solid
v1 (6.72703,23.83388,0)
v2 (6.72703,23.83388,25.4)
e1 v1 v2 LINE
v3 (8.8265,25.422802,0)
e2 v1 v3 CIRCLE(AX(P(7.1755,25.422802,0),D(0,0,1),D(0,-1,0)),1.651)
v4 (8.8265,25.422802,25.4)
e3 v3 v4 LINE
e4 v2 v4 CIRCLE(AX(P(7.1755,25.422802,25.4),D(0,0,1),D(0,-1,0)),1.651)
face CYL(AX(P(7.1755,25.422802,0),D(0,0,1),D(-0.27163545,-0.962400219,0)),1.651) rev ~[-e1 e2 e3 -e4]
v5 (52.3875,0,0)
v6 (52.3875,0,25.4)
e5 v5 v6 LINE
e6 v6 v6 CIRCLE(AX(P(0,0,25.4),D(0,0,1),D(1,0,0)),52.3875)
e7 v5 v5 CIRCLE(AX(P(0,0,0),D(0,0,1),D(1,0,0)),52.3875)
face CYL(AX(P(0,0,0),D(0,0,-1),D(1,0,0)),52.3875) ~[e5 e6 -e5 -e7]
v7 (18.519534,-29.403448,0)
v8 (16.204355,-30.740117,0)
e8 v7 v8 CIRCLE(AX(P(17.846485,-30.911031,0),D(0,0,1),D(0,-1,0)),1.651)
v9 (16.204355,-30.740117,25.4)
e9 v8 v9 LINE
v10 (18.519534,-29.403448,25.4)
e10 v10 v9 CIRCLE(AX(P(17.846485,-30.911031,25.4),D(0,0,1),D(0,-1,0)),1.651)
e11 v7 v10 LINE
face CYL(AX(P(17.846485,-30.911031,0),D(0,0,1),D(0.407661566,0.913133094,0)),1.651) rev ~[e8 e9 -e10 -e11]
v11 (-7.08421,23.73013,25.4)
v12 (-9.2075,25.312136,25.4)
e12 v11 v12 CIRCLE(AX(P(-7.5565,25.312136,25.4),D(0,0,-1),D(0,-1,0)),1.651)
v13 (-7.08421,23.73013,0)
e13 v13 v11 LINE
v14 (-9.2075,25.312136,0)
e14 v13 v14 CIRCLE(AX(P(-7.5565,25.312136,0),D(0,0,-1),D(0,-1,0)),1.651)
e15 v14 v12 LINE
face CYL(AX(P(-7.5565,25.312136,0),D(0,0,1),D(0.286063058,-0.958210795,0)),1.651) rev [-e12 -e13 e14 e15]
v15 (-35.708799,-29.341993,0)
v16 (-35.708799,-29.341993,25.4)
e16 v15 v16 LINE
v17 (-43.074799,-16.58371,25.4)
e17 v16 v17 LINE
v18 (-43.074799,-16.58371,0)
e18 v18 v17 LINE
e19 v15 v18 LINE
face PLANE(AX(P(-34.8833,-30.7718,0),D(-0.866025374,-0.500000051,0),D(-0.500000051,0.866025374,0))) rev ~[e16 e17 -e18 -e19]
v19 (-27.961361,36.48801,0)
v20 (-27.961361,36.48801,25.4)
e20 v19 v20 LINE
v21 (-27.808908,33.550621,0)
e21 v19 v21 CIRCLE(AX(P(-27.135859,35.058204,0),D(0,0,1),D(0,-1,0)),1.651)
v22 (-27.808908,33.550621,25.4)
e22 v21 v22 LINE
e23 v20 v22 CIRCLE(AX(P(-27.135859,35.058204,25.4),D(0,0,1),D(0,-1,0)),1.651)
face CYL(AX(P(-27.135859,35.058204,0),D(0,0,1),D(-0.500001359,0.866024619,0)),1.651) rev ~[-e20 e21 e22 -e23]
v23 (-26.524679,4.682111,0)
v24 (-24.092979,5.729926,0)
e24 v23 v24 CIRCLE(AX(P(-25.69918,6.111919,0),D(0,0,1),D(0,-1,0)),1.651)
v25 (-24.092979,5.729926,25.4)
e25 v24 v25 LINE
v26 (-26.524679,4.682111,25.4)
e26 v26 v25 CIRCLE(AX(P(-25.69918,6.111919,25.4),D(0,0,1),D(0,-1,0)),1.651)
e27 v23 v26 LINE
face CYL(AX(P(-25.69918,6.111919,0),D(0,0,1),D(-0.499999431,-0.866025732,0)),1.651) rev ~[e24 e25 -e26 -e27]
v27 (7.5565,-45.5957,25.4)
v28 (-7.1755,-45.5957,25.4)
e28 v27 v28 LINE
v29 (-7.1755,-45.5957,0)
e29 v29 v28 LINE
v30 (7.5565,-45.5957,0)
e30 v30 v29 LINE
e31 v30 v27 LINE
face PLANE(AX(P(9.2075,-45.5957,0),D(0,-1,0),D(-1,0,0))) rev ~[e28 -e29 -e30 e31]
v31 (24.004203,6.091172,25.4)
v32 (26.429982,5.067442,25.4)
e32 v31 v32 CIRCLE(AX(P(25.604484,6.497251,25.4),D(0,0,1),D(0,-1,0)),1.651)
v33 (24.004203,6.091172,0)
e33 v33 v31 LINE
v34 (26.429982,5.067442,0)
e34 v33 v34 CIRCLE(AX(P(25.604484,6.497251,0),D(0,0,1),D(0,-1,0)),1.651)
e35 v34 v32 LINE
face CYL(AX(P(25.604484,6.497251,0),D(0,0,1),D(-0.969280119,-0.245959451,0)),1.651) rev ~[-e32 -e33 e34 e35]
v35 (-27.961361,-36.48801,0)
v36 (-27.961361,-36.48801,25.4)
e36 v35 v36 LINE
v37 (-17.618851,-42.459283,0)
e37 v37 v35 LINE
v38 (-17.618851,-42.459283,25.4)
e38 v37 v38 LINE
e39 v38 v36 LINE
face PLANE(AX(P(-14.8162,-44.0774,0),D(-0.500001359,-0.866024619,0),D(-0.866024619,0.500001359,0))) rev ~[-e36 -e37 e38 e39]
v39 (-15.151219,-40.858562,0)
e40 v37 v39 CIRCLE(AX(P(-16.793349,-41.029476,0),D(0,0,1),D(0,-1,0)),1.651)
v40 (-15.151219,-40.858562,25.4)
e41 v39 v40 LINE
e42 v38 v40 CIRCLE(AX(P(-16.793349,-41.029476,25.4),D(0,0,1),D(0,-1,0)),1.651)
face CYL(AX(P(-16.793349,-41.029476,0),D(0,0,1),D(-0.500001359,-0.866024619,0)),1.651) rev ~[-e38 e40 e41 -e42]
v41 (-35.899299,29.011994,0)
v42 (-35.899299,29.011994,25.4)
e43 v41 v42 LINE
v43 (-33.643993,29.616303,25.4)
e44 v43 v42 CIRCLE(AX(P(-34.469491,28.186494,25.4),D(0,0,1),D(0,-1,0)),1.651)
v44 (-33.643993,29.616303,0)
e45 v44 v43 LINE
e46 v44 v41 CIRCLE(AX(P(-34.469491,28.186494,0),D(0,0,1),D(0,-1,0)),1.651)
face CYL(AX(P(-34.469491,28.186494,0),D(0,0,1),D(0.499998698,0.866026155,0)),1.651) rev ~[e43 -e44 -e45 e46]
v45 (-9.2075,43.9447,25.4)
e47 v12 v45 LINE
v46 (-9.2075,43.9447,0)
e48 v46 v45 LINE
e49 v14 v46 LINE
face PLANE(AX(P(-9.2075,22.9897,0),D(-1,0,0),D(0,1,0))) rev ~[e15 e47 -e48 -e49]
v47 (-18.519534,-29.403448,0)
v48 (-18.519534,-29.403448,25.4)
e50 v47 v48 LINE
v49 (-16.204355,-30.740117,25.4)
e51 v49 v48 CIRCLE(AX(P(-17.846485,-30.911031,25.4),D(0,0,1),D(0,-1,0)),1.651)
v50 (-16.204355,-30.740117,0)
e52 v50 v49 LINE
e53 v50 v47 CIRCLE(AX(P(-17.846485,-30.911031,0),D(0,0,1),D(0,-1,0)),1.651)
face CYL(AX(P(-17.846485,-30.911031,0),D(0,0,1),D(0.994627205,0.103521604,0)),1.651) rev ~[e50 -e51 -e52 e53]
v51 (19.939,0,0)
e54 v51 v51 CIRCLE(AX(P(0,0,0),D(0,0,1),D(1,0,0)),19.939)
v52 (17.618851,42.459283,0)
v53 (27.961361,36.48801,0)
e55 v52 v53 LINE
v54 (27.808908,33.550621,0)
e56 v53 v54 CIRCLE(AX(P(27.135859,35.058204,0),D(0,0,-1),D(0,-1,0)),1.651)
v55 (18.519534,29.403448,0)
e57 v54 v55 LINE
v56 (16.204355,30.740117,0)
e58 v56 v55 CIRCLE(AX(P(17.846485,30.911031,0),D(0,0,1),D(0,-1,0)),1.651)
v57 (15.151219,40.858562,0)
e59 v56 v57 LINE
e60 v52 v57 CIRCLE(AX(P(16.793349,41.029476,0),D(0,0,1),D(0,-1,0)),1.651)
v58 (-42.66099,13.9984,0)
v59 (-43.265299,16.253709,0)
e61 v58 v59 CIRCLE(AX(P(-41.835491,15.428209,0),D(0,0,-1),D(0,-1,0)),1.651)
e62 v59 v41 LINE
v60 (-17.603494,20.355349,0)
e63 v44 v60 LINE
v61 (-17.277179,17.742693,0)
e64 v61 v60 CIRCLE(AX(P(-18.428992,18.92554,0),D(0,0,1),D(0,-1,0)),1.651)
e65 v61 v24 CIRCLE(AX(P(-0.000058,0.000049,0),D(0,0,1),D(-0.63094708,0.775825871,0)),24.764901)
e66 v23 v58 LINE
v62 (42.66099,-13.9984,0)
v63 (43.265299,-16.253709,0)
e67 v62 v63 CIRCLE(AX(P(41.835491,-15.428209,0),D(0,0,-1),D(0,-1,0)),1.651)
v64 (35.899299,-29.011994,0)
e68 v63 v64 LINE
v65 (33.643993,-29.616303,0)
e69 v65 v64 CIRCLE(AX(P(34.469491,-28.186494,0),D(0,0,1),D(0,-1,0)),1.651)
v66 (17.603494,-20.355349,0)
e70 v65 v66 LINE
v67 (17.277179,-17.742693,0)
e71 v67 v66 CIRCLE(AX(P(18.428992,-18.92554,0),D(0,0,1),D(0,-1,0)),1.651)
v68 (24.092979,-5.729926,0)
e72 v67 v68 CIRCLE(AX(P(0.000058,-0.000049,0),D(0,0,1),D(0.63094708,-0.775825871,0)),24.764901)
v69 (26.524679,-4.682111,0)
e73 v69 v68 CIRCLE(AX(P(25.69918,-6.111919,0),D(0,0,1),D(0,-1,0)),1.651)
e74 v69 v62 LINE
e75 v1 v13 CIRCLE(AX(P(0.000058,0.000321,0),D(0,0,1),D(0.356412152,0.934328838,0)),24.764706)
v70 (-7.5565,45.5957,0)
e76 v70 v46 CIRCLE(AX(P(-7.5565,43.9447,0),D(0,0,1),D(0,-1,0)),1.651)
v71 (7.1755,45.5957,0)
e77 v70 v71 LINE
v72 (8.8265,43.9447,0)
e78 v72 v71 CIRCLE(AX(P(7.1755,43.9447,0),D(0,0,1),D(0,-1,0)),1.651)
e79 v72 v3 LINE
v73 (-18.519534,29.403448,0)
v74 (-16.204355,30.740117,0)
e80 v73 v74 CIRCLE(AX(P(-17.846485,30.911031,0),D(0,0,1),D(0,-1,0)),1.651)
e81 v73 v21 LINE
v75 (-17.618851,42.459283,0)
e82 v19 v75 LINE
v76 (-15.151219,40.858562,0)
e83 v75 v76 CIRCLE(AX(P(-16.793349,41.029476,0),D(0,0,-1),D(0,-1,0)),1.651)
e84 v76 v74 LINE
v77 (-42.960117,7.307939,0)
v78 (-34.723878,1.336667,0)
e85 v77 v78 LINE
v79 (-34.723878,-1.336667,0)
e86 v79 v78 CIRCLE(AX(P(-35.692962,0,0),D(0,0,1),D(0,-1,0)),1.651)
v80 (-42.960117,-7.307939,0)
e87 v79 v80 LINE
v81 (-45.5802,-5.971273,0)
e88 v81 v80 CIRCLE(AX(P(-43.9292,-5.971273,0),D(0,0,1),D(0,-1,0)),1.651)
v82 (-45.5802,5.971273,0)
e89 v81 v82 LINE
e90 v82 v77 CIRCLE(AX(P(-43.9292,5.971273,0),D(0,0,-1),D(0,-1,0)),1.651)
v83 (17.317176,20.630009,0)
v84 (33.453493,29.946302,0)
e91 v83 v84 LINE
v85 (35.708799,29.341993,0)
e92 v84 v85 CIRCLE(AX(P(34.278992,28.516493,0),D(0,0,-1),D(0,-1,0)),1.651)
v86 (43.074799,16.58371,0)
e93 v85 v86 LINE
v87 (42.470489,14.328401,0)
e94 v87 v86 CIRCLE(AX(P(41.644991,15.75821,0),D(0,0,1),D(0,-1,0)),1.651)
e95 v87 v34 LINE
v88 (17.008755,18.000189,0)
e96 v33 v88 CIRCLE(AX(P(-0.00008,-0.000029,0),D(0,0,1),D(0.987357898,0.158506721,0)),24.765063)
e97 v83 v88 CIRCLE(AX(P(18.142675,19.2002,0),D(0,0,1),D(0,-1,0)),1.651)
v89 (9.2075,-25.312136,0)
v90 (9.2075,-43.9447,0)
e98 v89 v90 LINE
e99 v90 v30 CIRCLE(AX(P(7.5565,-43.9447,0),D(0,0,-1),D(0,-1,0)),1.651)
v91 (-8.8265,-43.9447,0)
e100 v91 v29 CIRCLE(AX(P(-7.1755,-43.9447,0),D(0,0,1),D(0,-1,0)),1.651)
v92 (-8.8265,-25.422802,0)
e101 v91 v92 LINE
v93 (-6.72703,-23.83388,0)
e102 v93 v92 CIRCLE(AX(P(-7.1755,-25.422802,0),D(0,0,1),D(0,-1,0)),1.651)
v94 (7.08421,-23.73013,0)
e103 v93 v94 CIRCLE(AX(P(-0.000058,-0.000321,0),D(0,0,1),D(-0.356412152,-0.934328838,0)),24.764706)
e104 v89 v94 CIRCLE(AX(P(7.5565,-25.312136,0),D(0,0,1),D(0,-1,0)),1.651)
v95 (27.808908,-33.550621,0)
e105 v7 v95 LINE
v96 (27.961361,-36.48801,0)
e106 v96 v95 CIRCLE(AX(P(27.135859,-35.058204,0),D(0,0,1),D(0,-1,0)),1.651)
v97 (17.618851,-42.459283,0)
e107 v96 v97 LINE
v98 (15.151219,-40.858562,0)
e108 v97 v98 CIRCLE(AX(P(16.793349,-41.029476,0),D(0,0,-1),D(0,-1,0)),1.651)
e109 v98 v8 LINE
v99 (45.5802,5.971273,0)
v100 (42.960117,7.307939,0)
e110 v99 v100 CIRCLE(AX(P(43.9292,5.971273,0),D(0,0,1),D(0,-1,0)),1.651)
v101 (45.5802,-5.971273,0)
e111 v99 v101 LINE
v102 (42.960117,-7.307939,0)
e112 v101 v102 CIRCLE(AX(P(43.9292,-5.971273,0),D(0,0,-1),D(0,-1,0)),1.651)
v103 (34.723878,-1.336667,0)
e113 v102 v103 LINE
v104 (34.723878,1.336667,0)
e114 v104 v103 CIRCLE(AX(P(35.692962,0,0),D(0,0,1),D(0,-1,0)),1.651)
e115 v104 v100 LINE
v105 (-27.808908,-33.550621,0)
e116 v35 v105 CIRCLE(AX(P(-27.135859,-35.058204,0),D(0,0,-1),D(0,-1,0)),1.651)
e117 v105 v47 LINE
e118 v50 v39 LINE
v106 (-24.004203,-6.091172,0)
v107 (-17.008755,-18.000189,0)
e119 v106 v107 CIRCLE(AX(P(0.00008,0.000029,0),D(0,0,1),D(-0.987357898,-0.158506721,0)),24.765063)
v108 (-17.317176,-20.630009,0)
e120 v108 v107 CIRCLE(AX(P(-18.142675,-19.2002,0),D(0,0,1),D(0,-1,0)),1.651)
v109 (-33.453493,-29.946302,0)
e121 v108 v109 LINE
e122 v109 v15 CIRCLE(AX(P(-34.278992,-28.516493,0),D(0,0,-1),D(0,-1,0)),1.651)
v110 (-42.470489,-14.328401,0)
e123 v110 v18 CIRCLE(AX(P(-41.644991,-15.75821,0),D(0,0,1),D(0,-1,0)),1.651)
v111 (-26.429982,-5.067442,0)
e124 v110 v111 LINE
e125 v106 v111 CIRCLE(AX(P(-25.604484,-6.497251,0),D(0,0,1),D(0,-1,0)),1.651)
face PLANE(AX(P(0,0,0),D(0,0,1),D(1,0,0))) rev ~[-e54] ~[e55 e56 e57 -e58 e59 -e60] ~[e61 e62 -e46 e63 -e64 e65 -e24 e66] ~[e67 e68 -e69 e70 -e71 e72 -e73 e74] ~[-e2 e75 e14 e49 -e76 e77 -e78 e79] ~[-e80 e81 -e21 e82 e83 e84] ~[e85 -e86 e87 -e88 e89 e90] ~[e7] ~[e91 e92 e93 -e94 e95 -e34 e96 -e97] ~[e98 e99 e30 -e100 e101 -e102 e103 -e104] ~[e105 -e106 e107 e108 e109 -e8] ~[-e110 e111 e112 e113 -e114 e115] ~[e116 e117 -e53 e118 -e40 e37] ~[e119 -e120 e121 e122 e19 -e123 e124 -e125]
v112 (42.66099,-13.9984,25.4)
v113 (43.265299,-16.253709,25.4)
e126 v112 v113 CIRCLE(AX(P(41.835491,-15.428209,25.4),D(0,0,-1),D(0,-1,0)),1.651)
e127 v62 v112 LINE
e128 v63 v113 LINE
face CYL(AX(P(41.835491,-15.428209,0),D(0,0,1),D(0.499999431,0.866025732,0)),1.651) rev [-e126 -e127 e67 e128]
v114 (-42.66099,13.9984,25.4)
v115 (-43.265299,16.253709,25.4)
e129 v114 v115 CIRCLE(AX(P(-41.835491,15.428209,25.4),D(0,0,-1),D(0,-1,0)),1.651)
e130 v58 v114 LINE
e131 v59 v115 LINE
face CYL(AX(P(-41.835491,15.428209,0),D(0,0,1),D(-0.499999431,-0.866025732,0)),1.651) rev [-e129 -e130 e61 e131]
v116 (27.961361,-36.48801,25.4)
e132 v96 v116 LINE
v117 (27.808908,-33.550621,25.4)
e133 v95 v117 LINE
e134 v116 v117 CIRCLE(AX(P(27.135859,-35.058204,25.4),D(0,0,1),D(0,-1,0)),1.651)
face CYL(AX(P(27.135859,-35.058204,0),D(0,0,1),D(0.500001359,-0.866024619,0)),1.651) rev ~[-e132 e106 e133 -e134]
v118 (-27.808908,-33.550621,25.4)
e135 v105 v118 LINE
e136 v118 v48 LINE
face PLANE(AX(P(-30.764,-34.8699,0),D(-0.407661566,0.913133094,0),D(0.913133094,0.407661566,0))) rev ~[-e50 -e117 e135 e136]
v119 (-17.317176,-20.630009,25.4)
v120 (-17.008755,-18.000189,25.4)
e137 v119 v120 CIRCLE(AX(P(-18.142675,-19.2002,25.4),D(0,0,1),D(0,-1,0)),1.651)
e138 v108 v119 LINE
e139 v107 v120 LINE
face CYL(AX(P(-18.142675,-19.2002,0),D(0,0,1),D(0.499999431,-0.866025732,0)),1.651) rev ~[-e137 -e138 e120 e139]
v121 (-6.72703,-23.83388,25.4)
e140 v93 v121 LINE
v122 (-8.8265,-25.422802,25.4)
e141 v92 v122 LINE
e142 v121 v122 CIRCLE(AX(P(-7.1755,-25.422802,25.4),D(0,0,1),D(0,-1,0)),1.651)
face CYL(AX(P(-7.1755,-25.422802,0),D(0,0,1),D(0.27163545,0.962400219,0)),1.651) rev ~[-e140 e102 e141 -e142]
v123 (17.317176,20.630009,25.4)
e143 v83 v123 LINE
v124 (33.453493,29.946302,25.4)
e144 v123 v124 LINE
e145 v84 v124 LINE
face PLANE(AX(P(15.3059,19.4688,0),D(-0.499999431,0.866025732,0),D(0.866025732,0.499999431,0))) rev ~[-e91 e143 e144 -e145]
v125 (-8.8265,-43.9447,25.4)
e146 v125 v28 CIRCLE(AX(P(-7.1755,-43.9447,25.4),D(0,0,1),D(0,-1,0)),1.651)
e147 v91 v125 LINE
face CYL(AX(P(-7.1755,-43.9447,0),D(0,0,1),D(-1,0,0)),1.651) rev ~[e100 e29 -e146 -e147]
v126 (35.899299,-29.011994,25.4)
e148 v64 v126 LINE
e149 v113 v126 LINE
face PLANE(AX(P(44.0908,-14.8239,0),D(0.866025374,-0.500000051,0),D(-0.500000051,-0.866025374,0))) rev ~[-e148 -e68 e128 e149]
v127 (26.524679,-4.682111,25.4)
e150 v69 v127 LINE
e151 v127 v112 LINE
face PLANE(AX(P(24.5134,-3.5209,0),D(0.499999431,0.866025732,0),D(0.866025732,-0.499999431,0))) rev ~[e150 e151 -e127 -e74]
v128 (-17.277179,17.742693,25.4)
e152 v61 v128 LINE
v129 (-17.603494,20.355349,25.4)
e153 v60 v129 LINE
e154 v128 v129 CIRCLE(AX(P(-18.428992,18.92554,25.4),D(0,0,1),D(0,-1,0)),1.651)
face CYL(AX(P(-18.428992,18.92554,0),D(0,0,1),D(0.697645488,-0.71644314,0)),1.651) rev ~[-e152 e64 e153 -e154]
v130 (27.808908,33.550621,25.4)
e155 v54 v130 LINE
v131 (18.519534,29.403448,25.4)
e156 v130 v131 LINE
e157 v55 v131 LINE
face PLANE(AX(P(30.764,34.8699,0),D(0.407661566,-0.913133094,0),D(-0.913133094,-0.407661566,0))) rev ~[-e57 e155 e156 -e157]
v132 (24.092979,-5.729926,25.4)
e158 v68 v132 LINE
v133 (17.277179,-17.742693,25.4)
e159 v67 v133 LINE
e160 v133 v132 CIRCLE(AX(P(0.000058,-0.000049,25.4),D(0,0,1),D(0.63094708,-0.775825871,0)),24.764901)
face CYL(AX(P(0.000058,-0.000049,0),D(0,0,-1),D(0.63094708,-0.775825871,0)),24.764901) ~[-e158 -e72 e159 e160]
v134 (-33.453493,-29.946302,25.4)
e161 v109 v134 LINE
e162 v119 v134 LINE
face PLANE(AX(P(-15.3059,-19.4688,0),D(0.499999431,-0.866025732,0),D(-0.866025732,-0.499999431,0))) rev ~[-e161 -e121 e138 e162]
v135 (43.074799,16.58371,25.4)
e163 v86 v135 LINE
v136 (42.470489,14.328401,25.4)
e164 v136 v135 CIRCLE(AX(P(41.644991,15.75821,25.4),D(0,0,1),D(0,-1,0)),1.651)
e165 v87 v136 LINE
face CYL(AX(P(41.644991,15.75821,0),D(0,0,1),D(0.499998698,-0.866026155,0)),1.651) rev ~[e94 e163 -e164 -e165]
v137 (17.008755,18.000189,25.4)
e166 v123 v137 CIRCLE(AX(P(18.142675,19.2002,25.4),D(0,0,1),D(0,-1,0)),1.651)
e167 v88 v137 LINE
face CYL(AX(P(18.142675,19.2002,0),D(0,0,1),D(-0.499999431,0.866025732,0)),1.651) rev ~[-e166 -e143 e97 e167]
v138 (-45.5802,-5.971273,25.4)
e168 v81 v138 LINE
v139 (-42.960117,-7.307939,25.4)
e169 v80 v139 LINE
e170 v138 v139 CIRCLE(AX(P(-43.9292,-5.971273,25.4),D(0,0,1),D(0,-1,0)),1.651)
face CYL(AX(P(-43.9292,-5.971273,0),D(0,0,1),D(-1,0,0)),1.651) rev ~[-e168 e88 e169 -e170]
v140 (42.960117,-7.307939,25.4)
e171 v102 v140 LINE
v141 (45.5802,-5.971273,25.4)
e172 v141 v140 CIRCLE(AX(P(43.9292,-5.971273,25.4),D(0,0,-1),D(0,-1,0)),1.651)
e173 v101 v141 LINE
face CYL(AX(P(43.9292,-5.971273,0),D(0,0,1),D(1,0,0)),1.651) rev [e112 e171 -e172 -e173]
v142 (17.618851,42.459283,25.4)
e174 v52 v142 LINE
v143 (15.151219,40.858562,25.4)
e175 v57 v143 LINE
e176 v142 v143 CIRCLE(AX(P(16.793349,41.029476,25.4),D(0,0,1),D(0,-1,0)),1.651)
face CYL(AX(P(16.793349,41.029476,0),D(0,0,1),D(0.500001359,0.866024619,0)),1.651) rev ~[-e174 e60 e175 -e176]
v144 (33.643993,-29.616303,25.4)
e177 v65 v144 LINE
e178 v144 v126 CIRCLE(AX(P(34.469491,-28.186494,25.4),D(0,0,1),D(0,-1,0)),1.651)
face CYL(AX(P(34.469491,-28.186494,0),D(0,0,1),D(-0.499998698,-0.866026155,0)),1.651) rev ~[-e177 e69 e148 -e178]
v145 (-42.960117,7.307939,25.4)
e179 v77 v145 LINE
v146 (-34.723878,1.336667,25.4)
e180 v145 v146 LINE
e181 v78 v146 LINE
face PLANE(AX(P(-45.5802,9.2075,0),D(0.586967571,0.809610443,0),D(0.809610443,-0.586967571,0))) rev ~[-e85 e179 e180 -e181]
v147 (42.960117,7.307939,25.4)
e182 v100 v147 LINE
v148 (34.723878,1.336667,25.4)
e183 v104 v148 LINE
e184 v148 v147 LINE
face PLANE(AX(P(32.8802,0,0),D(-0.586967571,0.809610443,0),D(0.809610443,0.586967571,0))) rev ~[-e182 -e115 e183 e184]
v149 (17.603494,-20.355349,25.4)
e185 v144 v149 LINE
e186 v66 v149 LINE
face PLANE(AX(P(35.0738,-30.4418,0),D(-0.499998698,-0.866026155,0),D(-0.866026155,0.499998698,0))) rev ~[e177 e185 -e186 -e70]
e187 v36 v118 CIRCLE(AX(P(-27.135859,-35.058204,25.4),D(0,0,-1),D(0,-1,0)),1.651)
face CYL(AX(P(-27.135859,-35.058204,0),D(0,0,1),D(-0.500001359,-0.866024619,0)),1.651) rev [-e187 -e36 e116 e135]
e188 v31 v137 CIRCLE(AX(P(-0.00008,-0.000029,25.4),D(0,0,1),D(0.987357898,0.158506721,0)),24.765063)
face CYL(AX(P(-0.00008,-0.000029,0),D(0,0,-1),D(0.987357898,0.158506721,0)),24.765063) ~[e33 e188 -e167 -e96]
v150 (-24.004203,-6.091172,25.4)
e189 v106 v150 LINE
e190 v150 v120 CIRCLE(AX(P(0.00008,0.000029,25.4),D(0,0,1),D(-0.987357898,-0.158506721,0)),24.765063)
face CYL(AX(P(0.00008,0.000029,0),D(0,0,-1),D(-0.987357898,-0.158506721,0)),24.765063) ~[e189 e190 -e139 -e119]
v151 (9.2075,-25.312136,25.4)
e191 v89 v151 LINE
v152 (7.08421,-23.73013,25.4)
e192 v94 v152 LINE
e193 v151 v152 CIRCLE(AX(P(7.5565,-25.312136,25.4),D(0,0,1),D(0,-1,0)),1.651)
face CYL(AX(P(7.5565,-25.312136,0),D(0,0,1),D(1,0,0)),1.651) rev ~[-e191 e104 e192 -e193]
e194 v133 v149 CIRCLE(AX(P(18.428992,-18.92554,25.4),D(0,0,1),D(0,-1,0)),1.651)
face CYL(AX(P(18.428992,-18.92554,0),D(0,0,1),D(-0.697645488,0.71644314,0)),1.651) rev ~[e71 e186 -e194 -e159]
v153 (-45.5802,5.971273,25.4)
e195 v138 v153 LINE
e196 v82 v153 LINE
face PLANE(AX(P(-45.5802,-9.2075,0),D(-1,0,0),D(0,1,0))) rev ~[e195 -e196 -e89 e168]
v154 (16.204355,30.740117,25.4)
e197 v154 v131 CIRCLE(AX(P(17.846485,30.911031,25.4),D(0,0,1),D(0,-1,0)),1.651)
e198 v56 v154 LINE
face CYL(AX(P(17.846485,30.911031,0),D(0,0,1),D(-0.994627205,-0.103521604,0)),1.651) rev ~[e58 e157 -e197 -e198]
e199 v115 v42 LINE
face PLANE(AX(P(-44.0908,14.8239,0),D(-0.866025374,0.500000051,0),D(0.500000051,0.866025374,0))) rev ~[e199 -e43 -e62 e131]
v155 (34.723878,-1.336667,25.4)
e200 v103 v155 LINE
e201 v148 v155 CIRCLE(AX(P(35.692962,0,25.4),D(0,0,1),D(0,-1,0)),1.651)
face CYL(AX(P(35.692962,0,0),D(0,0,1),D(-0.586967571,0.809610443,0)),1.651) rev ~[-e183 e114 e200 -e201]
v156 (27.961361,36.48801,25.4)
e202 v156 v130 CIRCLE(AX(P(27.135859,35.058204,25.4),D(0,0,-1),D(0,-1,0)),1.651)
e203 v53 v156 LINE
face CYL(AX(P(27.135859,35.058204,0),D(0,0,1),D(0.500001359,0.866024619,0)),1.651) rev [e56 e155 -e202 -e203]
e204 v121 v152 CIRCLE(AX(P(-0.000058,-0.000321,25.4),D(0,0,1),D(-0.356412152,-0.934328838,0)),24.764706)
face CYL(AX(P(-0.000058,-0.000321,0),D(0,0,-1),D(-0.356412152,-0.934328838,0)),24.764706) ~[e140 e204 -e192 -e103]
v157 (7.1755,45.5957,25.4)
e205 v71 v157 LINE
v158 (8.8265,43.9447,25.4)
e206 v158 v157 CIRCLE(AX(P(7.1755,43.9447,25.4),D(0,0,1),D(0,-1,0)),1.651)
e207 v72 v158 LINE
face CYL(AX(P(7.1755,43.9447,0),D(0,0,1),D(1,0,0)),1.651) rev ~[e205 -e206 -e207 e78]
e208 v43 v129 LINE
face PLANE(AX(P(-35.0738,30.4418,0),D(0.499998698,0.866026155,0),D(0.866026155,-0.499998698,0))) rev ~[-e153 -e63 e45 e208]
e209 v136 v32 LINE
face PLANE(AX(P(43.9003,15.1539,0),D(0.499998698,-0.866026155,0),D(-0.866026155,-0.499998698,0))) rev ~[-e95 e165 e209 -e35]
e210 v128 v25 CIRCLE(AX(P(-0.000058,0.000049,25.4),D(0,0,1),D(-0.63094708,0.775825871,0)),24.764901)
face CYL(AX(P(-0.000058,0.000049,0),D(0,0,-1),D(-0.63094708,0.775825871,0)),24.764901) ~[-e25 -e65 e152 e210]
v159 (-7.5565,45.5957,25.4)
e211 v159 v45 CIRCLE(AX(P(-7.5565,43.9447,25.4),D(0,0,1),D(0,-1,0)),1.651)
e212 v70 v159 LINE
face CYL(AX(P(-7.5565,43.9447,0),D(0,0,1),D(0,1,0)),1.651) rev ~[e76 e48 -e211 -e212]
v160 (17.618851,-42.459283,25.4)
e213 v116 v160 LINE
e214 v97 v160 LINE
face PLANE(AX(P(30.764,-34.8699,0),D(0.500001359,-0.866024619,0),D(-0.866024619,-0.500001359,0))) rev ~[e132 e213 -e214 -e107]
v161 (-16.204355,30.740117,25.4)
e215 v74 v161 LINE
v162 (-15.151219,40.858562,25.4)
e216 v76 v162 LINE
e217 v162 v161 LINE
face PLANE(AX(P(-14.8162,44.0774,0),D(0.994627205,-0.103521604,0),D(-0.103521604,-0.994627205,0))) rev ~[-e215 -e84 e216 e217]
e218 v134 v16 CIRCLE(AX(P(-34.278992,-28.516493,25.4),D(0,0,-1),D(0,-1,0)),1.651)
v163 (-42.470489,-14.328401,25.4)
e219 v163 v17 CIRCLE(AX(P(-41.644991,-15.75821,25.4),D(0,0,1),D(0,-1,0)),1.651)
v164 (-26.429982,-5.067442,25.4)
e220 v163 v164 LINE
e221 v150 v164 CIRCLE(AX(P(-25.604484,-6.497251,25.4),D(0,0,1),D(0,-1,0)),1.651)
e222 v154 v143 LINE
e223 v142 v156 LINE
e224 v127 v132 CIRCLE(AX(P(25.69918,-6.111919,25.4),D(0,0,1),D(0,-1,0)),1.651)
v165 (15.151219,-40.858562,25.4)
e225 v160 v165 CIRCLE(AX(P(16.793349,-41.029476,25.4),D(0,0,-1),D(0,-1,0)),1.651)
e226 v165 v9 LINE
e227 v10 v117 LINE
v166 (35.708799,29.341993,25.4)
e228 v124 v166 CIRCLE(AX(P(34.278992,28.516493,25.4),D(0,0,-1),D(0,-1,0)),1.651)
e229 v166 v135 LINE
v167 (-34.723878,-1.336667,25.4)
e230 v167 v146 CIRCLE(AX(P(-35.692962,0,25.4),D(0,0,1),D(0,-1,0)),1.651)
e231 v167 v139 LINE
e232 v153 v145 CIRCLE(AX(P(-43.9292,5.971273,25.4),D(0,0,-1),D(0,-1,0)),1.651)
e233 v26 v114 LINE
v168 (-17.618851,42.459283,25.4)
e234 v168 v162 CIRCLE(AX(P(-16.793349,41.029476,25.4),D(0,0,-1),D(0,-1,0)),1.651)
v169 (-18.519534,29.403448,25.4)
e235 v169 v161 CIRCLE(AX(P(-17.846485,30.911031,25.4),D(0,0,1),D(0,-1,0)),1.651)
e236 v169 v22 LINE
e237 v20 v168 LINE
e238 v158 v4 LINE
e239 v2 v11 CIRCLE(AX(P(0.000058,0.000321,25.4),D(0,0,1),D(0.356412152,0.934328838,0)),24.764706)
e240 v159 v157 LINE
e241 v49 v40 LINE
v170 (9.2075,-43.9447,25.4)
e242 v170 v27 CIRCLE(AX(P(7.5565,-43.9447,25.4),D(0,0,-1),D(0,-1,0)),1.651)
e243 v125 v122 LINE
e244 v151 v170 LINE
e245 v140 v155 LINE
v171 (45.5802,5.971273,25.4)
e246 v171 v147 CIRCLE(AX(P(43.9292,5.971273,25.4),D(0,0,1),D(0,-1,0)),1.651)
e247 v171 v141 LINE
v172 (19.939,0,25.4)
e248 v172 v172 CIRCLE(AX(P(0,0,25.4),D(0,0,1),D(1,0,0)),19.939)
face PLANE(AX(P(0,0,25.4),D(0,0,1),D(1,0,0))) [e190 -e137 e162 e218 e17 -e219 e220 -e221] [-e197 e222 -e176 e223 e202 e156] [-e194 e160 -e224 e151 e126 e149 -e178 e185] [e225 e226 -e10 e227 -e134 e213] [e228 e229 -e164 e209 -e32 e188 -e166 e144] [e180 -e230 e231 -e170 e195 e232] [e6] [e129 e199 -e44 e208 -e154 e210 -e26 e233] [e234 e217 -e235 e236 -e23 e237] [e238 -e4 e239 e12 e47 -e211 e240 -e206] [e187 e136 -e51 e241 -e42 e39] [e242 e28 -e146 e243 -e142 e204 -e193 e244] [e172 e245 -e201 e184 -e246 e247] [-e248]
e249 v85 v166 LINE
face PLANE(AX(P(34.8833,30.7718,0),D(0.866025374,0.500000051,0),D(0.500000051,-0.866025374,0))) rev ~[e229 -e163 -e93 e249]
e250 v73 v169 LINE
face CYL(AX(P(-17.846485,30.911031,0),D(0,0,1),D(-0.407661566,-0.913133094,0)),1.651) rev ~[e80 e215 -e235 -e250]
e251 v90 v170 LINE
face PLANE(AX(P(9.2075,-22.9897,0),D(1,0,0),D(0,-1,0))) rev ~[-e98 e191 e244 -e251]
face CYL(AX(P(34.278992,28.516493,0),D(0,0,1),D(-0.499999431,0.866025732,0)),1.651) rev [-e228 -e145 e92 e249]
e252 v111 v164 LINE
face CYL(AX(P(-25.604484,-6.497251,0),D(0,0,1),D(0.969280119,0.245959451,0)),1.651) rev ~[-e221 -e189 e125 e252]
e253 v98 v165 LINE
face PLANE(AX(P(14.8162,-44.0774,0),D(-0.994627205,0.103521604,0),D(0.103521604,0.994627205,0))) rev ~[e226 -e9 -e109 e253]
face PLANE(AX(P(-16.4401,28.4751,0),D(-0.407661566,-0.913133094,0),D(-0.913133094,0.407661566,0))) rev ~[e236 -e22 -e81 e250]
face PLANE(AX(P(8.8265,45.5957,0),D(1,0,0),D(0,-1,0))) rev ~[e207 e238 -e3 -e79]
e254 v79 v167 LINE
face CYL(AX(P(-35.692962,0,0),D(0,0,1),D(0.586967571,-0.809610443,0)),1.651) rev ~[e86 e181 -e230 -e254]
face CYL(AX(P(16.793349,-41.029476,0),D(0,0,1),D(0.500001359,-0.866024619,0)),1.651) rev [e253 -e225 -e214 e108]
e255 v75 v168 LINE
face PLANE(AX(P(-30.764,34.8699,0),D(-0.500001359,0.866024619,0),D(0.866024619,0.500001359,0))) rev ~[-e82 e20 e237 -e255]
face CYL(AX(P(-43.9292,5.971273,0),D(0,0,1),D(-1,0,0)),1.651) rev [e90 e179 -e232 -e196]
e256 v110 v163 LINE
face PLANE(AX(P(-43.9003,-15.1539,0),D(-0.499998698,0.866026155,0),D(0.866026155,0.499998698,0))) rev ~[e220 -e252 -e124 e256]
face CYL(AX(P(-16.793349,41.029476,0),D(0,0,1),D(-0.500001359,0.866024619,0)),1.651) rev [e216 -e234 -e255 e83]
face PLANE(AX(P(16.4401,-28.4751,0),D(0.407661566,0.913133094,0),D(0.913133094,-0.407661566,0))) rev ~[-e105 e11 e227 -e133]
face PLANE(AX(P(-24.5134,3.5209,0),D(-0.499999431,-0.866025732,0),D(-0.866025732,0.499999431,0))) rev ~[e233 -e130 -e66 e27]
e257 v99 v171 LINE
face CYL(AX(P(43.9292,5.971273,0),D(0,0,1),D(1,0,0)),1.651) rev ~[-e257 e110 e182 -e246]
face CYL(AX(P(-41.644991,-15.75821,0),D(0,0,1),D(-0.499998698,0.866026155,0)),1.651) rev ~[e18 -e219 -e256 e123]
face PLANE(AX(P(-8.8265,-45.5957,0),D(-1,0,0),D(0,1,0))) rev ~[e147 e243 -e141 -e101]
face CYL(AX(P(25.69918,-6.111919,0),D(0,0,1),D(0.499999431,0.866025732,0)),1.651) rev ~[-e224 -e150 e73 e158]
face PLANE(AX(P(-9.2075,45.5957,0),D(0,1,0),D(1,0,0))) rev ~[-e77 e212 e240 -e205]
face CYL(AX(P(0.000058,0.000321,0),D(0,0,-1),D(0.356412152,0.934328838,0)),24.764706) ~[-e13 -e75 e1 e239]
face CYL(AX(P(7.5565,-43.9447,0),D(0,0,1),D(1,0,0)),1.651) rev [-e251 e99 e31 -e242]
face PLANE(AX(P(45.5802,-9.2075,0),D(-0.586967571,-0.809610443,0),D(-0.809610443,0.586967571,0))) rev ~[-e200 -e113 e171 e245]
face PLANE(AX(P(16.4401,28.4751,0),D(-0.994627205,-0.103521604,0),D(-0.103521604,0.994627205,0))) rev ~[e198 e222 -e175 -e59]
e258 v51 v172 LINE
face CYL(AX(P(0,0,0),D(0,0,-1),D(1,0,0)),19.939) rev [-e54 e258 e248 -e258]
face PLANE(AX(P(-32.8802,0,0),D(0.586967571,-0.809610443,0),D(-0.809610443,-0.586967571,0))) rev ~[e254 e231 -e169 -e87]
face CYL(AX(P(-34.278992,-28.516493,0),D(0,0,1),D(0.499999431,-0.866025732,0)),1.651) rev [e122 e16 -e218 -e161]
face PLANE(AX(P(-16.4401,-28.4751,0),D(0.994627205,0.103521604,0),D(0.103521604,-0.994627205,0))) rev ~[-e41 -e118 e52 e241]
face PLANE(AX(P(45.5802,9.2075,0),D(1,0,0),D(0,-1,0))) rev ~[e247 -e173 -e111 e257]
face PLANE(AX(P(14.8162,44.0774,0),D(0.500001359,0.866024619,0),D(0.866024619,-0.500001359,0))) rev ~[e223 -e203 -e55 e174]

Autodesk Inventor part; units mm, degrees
ref_plane "YZ Plane" through (0, 0, 0) normal (1, 0, 0) x (0, 1, 0)
ref_plane "XZ Plane" through (0, 0, 0) normal (0, 1, 0) x (-1, 0, 0)
ref_plane "XY Plane" through (0, 0, 0) normal (0, 0, 1) x (1, 0, 0)
sketch "Sketch1" plane through (0, 0, 0) normal (0, 0, 1) x (1, 0, 0)
  circle A0 centre (0, 0) radius 19.939
  circle A1 centre (0, 0) radius 52.3875
  line L0 (-9.2075, 22.9897) -> (-9.2075, 45.5957)
  line L1 (-9.2075, 45.5957) -> (8.8265, 45.5957)
  line L2 (8.8265, 45.5957) -> (8.8265, 23.1387)
  line L3 (-44.0908, 14.8239) -> (-35.0738, 30.4418)
  line L4 (-35.0738, 30.4418) -> (-15.6254, 19.2133)
  line L5 (-24.5134, 3.5209) -> (-44.0908, 14.8239)
  line L6 (-34.8833, -30.7718) -> (-43.9003, -15.1539)
  line L7 (-43.9003, -15.1539) -> (-24.4519, -3.9254)
  line L8 (-15.3059, -19.4688) -> (-34.8833, -30.7718)
  line L9 (9.2075, -45.5957) -> (-8.8265, -45.5957)
  line L10 (-8.8265, -45.5957) -> (-8.8265, -23.1387)
  line L11 (9.2075, -22.9897) -> (9.2075, -45.5957)
  line L12 (44.0908, -14.8239) -> (35.0738, -30.4418)
  line L13 (35.0738, -30.4418) -> (15.6254, -19.2133)
  line L14 (24.5134, -3.5209) -> (44.0908, -14.8239)
  line L15 (34.8833, 30.7718) -> (43.9003, 15.1539)
  line L16 (43.9003, 15.1539) -> (24.4519, 3.9254)
  line L17 (15.3059, 19.4688) -> (34.8833, 30.7718)
  arc A2 (8.8265, 23.1387) -> (-9.2075, 22.9897) centre (0, 0) ccw
  arc A3 (-15.6254, 19.2133) -> (-24.5134, 3.5209) centre (0, 0) ccw
  arc A4 (24.4519, 3.9254) -> (15.3059, 19.4688) centre (0, 0) ccw
  arc A5 (15.6254, -19.2133) -> (24.5134, -3.5209) centre (0, 0) ccw
  arc A6 (-24.4519, -3.9254) -> (-15.3059, -19.4688) centre (0, 0) ccw
  arc A7 (-8.8265, -23.1387) -> (9.2075, -22.9897) centre (0, 0) ccw
  line L18 (-45.5802, 9.2075) -> (-32.8802, 0)
  line L19 (-32.8802, 0) -> (-45.5802, -9.2075)
  line L20 (-45.5802, -9.2075) -> (-45.5802, 9.2075)
  line L21 (-30.764, -34.8699) -> (-16.4401, -28.4751)
  line L22 (-14.8162, -44.0774) -> (-30.764, -34.8699)
  line L23 (-16.4401, -28.4751) -> (-14.8162, -44.0774)
  line L24 (14.8162, -44.0774) -> (16.4401, -28.4751)
  line L25 (30.764, -34.8699) -> (14.8162, -44.0774)
  line L26 (16.4401, -28.4751) -> (30.764, -34.8699)
  line L27 (45.5802, -9.2075) -> (32.8802, 0)
  line L28 (45.5802, 9.2075) -> (45.5802, -9.2075)
  line L29 (32.8802, 0) -> (45.5802, 9.2075)
  line L30 (30.764, 34.8699) -> (16.4401, 28.4751)
  line L31 (14.8162, 44.0774) -> (30.764, 34.8699)
  line L32 (16.4401, 28.4751) -> (14.8162, 44.0774)
  line L33 (-14.8162, 44.0774) -> (-16.4401, 28.4751)
  line L34 (-30.764, 34.8699) -> (-14.8162, 44.0774)
  line L35 (-16.4401, 28.4751) -> (-30.764, 34.8699)
  dimension "d0" = 39.878
  dimension "d3" = 104.775
  dimension "d38" = 22.606
  dimension "d39" = 18.034
  dimension "d40" = 9.2075
  dimension "d41" = 360
  dimension "d42" = 9.2075
  dimension "d43" = 9.2075
  dimension "d44" = 9.2075
  dimension "d45" = 12.7
  dimension "d46" = 12.7
  dimension "d49" = 360
extrude "Extrusion2" add sketch "Sketch1" along normal blind 25.4
fillet "Fillet1" radius 1.651 42 edges at (-15.6254, 19.2133, 12.7) (8.8265, 45.5957, 12.7) (30.764, 34.8699, 12.7) (43.9003, 15.1539, 12.7) (-32.8802, 0, 12.7) (-15.3059, -19.4688, 12.7) (-44.0908, 14.8239, 12.7) (-30.764, 34.8699, 12.7) (15.3059, 19.4688, 12.7) (15.6254, -19.2133, 12.7) (32.8802, 0, 12.7) (-30.764, -34.8699, 12.7) (-43.9003, -15.1539, 12.7) (-9.2075, 22.9897, 12.7) (16.4401, 28.4751, 12.7) (24.4519, 3.9254, 12.7) (9.2075, -45.5957, 12.7) (35.0738, -30.4418, 12.7) (45.5802, -9.2075, 12.7) (-14.8162, -44.0774, 12.7) (-24.5134, 3.5209, 12.7) (8.8265, 23.1387, 12.7) (-16.4401, 28.4751, 12.7) (-34.8833, -30.7718, 12.7) (-8.8265, -45.5957, 12.7) (14.8162, -44.0774, 12.7) (-45.5802, -9.2075, 12.7) (-45.5802, 9.2075, 12.7) (-35.0738, 30.4418, 12.7) (-9.2075, 45.5957, 12.7) (-8.8265, -23.1387, 12.7) (24.5134, -3.5209, 12.7) (16.4401, -28.4751, 12.7) (14.8162, 44.0774, 12.7) (9.2075, -22.9897, 12.7) (44.0908, -14.8239, 12.7) (30.764, -34.8699, 12.7) (34.8833, 30.7718, 12.7) (45.5802, 9.2075, 12.7) (-16.4401, -28.4751, 12.7) (-24.4519, -3.9254, 12.7) (-14.8162, 44.0774, 12.7)
properties part number "EXPANDED FLEX WHEEL"
